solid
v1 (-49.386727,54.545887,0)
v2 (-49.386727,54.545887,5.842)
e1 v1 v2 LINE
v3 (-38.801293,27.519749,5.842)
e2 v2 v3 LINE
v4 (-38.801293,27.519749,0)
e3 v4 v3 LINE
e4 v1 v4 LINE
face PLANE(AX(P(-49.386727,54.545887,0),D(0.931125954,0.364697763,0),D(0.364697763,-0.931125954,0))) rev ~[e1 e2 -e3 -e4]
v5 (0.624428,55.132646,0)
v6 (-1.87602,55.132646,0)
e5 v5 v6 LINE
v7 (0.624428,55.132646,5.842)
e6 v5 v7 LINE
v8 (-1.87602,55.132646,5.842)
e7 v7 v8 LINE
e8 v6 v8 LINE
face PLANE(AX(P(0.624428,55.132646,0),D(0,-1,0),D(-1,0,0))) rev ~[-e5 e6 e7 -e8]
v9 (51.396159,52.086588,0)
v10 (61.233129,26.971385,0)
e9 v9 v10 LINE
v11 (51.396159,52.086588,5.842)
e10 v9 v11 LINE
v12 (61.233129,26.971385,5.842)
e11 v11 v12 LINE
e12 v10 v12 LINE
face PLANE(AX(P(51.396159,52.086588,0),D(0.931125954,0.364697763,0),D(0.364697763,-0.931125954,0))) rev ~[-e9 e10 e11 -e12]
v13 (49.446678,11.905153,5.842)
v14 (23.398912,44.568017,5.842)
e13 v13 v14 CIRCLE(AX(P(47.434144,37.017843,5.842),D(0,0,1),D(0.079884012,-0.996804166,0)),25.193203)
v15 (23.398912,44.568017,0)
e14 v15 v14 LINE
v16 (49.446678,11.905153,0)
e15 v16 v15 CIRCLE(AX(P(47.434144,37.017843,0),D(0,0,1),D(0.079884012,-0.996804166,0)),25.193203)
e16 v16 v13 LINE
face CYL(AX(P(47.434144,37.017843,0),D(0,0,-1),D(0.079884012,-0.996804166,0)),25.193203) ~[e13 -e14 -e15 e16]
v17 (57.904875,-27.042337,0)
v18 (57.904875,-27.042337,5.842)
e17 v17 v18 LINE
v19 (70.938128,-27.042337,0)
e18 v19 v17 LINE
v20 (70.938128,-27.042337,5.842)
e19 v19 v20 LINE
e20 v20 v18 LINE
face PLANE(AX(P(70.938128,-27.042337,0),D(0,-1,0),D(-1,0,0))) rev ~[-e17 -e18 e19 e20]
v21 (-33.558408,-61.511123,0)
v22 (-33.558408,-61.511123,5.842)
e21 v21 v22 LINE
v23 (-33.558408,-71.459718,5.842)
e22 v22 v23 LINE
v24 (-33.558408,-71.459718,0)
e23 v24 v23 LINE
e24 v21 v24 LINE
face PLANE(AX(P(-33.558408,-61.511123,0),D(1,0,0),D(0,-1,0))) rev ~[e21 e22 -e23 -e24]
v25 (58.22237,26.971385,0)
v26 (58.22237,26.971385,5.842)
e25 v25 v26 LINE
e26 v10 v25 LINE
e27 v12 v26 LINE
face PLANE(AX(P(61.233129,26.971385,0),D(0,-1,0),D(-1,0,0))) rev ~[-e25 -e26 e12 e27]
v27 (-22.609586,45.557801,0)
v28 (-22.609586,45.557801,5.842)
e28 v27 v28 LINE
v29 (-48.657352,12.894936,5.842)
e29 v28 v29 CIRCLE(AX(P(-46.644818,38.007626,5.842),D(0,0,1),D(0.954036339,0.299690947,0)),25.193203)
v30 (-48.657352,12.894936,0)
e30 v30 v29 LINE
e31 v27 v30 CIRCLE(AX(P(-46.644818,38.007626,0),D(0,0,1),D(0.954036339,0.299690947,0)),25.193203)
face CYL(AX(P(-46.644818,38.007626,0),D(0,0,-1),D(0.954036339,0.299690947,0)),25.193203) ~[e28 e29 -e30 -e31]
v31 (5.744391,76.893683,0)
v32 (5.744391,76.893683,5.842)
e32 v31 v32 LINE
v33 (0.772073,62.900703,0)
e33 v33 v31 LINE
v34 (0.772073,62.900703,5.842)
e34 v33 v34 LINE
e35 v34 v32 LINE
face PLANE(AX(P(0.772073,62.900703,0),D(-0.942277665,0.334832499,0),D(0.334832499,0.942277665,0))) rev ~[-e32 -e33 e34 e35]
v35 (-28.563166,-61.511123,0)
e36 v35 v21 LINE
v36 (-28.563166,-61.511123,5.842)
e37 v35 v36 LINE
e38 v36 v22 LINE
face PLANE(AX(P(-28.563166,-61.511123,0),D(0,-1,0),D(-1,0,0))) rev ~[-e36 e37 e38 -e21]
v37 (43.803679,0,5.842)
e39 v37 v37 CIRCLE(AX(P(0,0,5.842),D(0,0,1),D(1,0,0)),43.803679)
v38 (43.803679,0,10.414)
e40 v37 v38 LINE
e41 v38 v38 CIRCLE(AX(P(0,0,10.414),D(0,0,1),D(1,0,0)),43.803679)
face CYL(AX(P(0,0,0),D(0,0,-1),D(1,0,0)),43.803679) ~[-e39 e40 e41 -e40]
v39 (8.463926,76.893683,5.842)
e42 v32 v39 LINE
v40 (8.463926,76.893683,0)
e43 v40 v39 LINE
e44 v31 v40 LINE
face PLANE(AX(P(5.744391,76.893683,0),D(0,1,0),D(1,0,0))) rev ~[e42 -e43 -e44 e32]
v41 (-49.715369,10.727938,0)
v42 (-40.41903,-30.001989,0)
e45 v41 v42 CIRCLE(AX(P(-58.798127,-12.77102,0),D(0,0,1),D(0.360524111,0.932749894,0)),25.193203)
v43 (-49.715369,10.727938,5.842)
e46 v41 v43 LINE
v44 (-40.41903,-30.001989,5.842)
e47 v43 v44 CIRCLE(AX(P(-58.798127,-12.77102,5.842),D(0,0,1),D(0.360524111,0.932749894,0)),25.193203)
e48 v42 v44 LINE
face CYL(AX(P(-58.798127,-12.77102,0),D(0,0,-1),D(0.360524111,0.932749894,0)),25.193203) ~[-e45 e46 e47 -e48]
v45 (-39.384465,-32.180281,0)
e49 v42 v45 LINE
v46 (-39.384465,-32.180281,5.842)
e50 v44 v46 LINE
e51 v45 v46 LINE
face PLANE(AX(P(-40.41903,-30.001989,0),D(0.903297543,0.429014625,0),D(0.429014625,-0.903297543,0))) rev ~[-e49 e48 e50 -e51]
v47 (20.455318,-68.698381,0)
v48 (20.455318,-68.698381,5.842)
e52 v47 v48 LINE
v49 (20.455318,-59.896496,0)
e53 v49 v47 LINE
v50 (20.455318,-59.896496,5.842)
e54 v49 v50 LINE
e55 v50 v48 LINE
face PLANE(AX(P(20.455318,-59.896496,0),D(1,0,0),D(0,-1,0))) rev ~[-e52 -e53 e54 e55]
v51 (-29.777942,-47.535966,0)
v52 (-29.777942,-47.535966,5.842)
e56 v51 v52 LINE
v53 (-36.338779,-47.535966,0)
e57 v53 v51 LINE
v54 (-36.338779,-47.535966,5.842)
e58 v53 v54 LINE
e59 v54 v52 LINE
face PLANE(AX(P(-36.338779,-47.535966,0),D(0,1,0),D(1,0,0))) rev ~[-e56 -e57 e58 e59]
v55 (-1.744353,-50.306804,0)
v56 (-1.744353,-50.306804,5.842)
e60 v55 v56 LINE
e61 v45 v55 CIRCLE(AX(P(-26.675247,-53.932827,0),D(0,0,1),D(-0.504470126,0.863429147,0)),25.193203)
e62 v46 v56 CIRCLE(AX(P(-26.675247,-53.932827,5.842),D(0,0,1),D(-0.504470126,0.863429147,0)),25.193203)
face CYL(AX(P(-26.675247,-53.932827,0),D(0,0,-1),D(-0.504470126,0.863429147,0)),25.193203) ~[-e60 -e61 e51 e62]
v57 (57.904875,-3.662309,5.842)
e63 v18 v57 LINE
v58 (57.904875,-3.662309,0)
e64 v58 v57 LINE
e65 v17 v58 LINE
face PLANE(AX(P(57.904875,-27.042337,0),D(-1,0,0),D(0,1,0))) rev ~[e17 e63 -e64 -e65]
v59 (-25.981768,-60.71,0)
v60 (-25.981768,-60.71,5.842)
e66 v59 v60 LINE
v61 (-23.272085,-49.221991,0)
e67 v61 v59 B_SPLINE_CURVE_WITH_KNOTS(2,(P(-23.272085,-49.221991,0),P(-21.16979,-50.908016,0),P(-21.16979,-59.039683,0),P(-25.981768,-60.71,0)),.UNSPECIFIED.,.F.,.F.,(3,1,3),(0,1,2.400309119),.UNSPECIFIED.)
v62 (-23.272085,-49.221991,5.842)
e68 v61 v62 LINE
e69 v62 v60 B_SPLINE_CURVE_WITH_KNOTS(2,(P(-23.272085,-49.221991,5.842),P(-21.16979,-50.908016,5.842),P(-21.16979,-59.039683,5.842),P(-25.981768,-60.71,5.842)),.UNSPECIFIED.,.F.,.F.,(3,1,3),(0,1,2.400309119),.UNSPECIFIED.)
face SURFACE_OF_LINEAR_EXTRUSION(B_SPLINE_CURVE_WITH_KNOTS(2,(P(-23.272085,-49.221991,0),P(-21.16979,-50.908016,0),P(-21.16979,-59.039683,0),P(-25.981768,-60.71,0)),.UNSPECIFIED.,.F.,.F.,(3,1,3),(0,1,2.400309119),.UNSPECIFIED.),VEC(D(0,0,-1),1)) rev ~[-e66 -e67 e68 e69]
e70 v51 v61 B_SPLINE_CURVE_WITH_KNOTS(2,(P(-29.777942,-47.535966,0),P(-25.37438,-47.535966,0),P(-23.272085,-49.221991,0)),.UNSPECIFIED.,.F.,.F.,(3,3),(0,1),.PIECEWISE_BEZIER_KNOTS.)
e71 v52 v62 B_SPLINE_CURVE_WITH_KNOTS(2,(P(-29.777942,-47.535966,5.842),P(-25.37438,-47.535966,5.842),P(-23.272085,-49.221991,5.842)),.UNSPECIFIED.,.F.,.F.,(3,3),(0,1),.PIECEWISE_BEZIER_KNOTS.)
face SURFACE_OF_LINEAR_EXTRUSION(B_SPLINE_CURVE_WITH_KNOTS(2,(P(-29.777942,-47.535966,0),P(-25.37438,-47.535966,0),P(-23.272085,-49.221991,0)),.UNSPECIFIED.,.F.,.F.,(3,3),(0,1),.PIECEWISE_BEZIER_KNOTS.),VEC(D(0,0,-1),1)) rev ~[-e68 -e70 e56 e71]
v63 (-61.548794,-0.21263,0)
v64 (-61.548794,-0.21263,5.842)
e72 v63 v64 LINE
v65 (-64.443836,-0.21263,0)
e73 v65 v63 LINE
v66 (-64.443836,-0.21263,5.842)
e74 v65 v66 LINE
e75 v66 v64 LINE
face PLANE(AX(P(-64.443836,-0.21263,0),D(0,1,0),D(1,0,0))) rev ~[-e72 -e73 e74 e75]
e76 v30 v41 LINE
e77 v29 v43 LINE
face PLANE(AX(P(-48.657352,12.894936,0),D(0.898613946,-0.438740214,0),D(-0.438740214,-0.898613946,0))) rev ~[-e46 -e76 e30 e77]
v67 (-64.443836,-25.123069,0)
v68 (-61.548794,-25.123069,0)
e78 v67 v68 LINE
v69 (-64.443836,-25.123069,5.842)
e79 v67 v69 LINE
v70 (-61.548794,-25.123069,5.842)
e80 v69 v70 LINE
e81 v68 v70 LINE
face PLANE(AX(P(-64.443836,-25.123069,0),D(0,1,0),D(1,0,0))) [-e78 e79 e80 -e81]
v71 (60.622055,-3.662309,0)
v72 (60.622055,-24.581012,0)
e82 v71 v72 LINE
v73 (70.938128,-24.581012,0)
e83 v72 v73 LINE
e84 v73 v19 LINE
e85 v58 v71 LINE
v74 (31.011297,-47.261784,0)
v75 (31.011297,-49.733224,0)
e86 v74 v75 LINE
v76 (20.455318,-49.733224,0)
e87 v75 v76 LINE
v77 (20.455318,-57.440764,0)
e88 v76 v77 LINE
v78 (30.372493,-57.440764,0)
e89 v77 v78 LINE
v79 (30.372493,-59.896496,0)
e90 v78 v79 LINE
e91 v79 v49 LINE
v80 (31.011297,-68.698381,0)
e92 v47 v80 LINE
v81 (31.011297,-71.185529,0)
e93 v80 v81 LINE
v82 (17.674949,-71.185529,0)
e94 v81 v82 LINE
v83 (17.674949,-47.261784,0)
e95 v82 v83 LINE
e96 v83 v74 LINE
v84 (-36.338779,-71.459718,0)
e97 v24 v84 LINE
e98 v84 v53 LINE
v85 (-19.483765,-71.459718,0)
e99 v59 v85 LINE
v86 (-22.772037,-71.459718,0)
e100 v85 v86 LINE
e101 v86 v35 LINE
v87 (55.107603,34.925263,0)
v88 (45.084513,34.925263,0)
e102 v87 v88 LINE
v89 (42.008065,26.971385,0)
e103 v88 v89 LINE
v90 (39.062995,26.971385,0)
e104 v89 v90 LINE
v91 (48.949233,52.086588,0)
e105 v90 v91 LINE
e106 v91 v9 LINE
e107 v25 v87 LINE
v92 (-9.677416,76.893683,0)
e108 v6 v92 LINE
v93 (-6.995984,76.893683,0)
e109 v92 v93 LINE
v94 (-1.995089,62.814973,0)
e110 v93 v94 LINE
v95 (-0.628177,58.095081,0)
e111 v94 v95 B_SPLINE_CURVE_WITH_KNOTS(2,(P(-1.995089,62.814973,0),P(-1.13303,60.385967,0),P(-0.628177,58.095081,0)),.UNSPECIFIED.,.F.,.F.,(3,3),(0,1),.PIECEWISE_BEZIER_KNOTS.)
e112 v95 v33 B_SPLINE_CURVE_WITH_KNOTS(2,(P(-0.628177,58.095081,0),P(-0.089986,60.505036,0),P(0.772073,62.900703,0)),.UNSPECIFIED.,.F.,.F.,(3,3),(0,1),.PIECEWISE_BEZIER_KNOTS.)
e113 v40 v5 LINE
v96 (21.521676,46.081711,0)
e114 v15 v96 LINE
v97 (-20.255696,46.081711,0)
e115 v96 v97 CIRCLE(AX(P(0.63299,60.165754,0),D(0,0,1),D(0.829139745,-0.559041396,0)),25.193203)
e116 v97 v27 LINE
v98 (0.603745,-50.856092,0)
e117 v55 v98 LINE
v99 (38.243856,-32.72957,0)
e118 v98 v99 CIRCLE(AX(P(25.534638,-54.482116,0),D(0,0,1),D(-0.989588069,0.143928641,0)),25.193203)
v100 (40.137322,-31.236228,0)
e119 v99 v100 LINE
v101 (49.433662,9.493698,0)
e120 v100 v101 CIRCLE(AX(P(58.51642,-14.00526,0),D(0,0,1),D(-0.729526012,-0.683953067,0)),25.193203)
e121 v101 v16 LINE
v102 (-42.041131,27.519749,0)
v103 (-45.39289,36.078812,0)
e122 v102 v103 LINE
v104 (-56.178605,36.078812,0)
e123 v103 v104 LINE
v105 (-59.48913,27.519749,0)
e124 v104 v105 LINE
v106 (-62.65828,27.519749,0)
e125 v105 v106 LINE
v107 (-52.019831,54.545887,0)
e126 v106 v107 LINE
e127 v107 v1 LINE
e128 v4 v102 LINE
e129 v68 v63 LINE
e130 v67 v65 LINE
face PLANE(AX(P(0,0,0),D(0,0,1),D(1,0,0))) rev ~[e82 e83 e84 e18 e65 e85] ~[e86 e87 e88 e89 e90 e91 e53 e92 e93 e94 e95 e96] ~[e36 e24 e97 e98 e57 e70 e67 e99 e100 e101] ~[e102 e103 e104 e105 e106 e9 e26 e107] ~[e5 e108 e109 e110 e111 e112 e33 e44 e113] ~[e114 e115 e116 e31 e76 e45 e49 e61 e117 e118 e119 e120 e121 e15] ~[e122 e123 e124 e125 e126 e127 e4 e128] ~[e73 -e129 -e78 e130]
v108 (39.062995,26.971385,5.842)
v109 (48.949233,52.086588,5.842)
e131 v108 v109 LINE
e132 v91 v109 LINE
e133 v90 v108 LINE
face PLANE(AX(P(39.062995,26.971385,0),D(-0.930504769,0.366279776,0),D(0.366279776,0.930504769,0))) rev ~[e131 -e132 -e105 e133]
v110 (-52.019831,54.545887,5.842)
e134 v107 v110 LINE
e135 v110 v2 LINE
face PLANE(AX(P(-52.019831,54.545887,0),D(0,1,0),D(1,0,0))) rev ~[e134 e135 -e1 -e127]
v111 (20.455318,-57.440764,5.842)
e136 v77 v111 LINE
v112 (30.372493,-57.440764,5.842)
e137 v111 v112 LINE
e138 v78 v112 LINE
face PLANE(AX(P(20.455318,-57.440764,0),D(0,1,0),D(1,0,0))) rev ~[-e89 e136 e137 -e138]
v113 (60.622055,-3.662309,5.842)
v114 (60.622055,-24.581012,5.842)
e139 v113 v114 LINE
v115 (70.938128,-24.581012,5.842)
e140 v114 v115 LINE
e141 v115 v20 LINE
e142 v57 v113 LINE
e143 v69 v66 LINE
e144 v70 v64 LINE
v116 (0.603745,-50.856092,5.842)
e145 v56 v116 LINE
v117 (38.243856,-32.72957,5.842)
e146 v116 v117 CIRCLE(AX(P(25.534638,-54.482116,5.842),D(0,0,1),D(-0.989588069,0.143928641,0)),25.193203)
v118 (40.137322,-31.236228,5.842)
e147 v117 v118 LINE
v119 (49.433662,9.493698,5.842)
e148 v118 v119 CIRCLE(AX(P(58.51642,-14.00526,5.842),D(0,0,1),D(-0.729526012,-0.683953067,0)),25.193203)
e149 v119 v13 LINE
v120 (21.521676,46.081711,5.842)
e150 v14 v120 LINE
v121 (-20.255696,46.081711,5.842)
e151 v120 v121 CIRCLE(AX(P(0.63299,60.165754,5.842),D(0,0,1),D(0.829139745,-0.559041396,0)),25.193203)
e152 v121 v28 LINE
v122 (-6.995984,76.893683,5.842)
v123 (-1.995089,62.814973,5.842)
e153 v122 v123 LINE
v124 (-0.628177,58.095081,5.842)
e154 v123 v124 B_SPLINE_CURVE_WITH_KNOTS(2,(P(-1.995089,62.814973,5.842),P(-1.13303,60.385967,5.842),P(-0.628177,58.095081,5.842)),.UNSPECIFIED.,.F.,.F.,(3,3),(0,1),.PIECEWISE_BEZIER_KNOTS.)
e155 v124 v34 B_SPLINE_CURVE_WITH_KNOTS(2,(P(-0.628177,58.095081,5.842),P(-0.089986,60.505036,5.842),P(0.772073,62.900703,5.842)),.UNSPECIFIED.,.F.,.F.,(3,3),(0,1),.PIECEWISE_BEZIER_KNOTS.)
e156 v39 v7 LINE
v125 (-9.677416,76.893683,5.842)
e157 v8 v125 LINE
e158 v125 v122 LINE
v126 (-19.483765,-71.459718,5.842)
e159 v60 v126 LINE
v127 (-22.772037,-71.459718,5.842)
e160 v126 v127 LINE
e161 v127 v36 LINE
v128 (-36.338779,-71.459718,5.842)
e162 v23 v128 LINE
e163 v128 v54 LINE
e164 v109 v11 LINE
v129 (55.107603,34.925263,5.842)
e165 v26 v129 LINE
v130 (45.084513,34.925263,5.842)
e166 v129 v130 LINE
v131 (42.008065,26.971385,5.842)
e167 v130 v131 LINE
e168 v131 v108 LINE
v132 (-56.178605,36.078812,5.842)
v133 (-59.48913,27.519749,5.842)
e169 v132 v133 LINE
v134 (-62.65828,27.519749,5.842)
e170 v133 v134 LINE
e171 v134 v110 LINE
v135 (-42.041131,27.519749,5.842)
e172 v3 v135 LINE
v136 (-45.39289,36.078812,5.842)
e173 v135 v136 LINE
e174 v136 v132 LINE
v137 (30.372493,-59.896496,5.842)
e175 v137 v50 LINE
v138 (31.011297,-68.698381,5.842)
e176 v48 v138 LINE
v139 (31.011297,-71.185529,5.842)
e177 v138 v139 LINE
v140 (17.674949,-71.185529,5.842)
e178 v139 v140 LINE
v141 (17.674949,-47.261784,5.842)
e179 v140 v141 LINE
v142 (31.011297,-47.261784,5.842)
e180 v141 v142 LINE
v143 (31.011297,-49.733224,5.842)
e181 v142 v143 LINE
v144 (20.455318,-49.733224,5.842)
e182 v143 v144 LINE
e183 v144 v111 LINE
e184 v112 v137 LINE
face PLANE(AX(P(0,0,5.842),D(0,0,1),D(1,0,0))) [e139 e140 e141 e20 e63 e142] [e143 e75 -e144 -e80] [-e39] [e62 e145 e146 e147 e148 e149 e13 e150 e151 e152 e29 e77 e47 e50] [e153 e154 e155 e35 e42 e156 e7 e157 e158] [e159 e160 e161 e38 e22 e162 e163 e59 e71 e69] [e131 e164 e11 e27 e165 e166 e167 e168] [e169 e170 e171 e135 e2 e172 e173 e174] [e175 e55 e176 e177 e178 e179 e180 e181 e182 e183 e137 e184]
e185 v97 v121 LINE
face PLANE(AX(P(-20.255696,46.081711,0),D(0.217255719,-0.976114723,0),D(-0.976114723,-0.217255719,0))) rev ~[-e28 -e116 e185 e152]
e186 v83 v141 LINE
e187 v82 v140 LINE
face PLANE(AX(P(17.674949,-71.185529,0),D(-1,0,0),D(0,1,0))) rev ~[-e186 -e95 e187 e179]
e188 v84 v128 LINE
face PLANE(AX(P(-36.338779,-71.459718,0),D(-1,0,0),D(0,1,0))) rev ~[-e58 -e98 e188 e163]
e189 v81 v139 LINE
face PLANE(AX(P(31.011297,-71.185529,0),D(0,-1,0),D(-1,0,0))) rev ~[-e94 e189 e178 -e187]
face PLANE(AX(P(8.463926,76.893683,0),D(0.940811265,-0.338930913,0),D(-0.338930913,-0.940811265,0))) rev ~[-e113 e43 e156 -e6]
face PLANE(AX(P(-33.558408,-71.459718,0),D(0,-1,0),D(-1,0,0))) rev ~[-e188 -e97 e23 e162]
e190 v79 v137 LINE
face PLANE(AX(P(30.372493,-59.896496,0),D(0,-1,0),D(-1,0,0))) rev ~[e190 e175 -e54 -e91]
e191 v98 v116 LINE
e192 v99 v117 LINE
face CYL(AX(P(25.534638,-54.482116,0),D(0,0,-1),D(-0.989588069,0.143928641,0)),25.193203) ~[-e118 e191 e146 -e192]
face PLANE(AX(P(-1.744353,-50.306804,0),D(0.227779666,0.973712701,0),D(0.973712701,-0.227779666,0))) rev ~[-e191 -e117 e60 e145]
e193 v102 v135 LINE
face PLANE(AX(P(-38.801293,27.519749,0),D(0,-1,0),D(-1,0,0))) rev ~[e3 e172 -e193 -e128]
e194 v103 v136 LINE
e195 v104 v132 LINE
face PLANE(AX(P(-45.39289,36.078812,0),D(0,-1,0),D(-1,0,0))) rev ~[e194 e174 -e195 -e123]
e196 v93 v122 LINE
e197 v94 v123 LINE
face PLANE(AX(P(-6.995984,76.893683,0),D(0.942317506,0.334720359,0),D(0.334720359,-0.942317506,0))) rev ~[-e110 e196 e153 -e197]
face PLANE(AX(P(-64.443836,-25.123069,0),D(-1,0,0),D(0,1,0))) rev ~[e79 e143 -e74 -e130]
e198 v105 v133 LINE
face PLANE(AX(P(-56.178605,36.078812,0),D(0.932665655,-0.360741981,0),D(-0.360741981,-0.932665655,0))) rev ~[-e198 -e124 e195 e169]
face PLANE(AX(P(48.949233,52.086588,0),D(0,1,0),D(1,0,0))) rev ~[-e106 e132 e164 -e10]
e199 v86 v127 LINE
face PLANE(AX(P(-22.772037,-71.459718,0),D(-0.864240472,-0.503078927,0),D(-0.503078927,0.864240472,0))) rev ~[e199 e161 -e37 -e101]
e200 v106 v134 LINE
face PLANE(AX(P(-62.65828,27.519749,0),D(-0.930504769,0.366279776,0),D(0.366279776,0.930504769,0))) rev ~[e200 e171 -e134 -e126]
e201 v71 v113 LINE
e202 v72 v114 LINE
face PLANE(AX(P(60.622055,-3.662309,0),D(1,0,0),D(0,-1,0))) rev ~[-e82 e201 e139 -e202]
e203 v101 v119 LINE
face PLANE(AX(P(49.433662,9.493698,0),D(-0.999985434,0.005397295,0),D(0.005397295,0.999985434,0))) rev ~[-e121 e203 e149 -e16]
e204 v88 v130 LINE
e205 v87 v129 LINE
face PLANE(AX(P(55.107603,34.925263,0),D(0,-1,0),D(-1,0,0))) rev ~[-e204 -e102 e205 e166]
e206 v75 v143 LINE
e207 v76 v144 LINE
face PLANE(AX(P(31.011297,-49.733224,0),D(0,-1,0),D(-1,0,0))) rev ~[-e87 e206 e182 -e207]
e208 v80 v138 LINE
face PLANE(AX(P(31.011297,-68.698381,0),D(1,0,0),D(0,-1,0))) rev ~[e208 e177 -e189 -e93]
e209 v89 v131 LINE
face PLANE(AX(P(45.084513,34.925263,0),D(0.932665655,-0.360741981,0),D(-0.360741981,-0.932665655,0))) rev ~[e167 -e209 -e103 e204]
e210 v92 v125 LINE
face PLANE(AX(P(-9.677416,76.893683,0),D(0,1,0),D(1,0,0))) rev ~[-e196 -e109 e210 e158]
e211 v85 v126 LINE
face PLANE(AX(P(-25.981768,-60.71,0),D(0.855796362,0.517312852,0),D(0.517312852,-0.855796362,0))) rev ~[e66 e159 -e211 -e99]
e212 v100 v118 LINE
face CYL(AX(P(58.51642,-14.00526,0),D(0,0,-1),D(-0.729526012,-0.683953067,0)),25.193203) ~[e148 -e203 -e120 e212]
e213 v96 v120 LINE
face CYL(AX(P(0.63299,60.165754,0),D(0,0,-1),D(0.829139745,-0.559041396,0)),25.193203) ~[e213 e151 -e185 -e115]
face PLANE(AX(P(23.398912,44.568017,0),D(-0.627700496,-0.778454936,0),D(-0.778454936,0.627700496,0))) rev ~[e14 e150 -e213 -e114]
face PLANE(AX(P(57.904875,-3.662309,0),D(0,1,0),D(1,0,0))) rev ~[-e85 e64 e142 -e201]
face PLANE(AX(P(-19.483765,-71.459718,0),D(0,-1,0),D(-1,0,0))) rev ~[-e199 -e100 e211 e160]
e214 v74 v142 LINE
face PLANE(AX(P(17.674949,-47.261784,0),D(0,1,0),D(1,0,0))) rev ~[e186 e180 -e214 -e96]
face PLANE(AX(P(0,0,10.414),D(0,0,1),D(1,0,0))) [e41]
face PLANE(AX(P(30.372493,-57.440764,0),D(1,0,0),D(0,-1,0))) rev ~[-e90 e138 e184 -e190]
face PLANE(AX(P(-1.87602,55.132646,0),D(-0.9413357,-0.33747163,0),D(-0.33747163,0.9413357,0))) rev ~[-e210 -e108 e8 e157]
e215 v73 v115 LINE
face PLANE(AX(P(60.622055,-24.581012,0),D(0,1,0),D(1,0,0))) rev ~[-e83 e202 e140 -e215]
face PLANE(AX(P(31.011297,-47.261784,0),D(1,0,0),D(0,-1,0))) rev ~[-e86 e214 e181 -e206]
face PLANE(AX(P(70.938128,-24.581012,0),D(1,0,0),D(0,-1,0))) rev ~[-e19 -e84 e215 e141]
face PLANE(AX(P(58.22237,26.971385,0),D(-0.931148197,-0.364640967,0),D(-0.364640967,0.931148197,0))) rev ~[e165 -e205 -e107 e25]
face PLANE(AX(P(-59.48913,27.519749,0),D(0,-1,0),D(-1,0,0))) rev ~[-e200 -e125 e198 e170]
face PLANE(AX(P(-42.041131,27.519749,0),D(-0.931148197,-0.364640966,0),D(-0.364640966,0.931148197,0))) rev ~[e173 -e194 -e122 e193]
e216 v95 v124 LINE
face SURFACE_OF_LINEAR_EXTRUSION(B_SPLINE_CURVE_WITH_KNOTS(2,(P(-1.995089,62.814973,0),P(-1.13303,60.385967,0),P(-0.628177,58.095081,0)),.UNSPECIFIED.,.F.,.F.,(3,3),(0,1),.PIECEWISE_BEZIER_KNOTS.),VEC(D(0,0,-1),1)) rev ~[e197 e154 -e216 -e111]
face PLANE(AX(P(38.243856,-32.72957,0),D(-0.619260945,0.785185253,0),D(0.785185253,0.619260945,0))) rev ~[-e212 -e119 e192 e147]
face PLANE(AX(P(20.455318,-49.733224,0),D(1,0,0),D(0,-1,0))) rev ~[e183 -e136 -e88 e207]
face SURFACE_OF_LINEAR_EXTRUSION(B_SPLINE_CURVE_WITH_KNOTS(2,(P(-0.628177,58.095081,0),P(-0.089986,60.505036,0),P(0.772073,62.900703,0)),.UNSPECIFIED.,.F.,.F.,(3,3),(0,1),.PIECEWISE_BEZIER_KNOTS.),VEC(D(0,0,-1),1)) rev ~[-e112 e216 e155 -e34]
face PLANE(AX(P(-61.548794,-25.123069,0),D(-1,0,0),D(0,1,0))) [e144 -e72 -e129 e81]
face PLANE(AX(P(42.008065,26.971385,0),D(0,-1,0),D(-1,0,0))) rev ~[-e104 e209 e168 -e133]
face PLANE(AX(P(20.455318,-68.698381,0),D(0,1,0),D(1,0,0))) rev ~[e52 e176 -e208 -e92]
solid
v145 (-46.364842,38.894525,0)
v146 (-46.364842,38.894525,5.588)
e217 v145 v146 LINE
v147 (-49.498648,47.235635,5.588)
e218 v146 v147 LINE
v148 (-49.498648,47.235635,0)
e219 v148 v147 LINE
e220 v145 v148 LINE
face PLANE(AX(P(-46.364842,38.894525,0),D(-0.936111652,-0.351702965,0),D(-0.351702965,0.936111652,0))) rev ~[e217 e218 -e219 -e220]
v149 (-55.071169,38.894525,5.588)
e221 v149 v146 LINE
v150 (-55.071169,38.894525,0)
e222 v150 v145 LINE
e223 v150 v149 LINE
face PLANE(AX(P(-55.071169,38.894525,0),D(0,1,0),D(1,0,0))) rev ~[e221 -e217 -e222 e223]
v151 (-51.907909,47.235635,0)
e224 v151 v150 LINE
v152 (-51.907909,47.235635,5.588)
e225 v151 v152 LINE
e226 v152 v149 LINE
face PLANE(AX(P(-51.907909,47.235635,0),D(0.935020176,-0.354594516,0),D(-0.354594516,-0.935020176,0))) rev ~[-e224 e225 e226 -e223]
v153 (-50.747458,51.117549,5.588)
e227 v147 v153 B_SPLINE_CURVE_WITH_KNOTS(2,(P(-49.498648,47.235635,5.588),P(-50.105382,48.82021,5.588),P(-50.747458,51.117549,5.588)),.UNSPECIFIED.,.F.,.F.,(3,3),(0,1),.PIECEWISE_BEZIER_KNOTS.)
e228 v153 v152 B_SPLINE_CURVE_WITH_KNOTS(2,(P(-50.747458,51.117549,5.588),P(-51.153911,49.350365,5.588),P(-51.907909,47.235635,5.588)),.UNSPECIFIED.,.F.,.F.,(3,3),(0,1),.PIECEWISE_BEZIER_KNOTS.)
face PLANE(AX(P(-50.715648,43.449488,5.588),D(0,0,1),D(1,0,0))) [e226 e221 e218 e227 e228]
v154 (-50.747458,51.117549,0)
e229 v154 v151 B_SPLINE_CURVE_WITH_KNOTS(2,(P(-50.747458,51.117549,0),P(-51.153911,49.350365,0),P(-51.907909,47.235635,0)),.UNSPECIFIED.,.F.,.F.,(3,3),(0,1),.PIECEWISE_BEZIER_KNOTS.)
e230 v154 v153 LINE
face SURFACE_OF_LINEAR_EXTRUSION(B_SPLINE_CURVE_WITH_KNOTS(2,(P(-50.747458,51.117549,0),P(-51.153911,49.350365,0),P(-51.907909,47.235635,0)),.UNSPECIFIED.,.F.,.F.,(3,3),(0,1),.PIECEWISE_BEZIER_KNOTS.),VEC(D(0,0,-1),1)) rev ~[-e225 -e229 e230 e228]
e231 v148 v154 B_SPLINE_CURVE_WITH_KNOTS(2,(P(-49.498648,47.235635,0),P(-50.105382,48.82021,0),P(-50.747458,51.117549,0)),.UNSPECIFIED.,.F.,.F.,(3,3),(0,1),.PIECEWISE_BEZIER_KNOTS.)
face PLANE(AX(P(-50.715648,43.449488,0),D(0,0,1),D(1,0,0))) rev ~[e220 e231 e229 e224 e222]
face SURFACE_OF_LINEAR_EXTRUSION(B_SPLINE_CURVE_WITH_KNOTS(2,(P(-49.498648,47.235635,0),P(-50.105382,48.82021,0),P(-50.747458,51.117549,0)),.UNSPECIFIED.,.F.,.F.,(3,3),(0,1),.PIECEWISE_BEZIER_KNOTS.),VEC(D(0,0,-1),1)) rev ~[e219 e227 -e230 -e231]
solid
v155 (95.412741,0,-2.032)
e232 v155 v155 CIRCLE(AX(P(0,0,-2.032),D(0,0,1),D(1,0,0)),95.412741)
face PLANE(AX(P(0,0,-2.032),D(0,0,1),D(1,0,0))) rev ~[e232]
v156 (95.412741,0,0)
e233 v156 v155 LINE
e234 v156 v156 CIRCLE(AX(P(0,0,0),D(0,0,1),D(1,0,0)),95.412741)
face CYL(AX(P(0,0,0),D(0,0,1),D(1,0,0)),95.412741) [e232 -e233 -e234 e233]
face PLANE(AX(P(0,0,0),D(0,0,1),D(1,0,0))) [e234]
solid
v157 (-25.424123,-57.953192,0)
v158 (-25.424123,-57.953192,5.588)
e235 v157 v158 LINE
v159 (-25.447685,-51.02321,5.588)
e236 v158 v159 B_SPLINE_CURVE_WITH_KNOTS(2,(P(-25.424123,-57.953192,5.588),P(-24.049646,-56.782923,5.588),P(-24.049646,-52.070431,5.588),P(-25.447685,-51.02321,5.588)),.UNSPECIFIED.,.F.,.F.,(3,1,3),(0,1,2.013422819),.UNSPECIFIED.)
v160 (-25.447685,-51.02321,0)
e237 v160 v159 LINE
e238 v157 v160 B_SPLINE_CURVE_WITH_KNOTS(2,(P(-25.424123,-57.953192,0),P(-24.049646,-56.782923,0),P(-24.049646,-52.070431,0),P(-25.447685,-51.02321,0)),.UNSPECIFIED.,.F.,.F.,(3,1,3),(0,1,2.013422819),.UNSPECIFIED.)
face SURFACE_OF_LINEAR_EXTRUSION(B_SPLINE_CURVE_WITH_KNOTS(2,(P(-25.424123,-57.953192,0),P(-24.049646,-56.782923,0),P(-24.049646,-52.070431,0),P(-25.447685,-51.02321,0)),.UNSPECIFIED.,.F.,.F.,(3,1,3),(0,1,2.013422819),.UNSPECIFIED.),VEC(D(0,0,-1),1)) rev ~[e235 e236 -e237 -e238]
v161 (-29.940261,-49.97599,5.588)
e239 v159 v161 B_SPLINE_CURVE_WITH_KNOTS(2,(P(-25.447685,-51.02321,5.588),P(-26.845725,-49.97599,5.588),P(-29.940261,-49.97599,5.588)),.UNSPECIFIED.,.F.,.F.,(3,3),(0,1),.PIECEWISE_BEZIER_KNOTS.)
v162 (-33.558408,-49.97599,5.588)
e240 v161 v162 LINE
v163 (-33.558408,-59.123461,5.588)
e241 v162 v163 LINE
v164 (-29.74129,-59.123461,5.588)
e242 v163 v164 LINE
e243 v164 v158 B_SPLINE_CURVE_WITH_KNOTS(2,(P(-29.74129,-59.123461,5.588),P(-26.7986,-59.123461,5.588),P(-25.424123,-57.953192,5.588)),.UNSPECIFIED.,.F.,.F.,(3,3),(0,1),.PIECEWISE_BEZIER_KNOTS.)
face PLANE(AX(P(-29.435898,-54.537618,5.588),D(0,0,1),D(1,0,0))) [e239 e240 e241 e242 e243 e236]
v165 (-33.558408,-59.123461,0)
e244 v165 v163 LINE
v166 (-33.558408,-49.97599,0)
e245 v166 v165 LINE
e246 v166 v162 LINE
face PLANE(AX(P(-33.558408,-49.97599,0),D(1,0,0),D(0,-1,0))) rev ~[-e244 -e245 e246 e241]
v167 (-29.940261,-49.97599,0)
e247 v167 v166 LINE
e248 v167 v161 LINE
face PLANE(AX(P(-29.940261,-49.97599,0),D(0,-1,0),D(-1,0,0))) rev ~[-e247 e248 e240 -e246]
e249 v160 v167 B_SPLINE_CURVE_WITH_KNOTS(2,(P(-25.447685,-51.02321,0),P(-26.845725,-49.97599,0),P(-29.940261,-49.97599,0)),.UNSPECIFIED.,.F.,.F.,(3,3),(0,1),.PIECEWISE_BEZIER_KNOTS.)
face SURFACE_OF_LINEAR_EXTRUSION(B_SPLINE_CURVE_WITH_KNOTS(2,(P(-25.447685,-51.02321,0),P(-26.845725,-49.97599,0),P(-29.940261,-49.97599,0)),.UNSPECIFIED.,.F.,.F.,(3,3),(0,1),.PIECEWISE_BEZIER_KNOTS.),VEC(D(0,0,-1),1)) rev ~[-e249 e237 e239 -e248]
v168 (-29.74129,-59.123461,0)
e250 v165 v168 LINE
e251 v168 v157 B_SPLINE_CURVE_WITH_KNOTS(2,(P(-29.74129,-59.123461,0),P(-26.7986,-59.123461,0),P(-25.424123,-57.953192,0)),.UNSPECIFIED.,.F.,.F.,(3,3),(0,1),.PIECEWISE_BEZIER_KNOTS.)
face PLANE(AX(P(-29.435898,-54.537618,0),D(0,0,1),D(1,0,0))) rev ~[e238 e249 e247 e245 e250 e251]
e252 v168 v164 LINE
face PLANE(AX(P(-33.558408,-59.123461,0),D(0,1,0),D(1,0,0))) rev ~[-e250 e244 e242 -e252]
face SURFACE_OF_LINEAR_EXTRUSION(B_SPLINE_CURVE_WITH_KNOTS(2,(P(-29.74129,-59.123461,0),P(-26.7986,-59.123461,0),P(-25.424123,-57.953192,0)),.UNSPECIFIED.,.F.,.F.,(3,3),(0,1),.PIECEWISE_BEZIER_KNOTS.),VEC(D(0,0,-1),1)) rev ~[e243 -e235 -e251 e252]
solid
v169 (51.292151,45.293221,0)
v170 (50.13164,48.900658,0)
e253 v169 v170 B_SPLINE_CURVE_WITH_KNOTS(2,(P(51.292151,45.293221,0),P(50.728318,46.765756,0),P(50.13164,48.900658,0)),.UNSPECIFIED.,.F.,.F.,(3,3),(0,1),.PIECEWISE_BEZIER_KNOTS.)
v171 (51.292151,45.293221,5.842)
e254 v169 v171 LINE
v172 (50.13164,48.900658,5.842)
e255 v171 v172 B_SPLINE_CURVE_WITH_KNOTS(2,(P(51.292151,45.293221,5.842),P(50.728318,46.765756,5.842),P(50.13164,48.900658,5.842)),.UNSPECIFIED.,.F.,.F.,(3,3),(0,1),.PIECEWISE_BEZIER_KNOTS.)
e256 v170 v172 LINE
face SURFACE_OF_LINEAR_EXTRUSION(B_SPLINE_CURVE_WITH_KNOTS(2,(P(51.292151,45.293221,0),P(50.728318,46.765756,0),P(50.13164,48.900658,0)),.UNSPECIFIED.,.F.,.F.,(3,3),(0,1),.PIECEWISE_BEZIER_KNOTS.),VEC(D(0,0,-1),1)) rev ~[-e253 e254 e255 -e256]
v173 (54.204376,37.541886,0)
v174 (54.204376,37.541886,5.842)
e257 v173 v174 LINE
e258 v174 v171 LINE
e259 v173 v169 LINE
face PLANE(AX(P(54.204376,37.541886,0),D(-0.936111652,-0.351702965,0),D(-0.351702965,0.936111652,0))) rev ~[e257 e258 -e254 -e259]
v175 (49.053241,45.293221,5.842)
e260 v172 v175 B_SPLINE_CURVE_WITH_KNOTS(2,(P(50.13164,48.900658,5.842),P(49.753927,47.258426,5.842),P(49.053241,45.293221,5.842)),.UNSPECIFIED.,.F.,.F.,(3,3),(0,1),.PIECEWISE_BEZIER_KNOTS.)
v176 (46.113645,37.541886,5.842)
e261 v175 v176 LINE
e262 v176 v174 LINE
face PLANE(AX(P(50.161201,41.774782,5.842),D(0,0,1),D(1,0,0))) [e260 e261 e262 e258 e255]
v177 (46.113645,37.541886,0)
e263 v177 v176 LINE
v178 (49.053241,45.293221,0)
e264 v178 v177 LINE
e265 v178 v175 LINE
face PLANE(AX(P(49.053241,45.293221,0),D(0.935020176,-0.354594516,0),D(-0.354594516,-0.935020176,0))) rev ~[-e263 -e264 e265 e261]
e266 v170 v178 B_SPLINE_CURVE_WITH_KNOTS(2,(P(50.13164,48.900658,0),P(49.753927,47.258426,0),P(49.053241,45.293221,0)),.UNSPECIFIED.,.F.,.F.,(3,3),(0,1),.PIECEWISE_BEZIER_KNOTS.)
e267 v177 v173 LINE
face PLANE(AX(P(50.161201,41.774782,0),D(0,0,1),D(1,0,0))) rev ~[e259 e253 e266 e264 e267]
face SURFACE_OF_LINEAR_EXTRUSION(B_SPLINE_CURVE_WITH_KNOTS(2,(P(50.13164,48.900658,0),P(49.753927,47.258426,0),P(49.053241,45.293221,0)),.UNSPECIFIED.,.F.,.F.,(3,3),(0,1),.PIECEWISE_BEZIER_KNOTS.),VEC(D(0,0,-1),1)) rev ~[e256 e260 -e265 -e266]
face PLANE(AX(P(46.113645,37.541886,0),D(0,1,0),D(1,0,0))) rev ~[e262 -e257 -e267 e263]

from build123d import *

# Parameters (mm, degrees)
F0_R     = 43.8036785808
F1_DEPTH = 10.414
F0_W     = 2.8950411615
F0_H     = 24.910438921
F2_DEPTH = 5.842
F3_DEPTH = 5.588
F4_R     = 95.4127414117
F5_DEPTH = 2.032


with BuildPart() as f1:
    # F0 (on Top) → F1 (new body)
    with BuildSketch(Plane.XY):
        Circle(F0_R)
    extrude(amount=F1_DEPTH)

    # F0 (on Top) → F2 (join)
    with BuildSketch(Plane.XY):
        with BuildLine():
            Line((23.3989122151, 44.5680174699), (21.5216763318, 46.0817106068))
            ThreePointArc((21.5216763318, 46.0817106068), (0.6329901516, 85.3589574882), (-20.2556960285, 46.0817106068))
            Line((-20.2556960285, 46.0817106068), (-22.6095864066, 45.5578007272))
            ThreePointArc((-22.6095864066, 45.5578007272), (-66.3416573707, 53.7153311199), (-48.6573520217, 12.8949357612))
            Line((-48.6573520217, 12.8949357612), (-49.7153694293, 10.7279376902))
            ThreePointArc((-49.7153694293, 10.7279376902), (-83.3596837697, -18.3770351748), (-40.4190295135, -30.0019887214))
            Line((-40.4190295135, -30.0019887214), (-39.384465263, -32.1802812375))
            ThreePointArc((-39.384465263, -32.1802812375), (-37.6061680625, -76.6311191597), (-1.7443533837, -50.3068037677))
            Line((-1.7443533837, -50.3068037677), (0.603744543, -50.8560920353))
            ThreePointArc((0.603744543, -50.8560920353), (36.4655592218, -77.1804074273), (38.2438564224, -32.7295695052))
            Line((38.2438564224, -32.7295695052), (40.137322394, -31.2362282553))
            ThreePointArc((40.137322394, -31.2362282553), (83.0779766503, -19.6112747088), (49.4336623099, 9.4936981563))
            Line((49.4336623099, 9.4936981563), (49.4466778301, 11.9051525039))
            ThreePointArc((49.4466778301, 11.9051525039), (67.1309831792, 52.7255478626), (23.3989122151, 44.5680174699))
        make_face()
        with BuildLine():
            Line((-28.5631664511, -61.511123346), (-33.5584082123, -61.511123346))
            Line((-33.5584082123, -61.511123346), (-33.5584082123, -71.4597180486))
            Line((-33.5584082123, -71.4597180486), (-36.3387786266, -71.4597180486))
            Line((-36.3387786266, -71.4597180486), (-36.3387786266, -47.53596584))
            Line((-36.3387786266, -47.53596584), (-29.7779422253, -47.53596584))
            add(Edge.make_bspline(
                [(-29.7779422253, -47.53596584), (-25.3743800438, -47.53596584), (-23.2720849001, -49.221990837)],
                knots=[0, 0, 0, 1, 1, 1], degree=2))
            add(Edge.make_bspline(
                [(-23.2720849001, -49.221990837), (-21.1697897563, -50.908015834), (-21.1697897563, -54.2957741353)],
                knots=[0, 0, 0, 1, 1, 1], degree=2))
            add(Edge.make_bspline(
                [(-21.1697897563, -54.2957741353), (-21.1697897563, -59.0396829777), (-25.9817679309, -60.7099996673)],
                knots=[0, 0, 0, 1, 1, 1], degree=2))
            Line((-25.9817679309, -60.7099996673), (-19.4837647594, -71.4597180486))
            Line((-19.4837647594, -71.4597180486), (-22.7720371137, -71.4597180486))
            Line((-22.7720371137, -71.4597180486), (-28.5631664511, -61.511123346))
        make_face(mode=Mode.SUBTRACT)
        with Locations((-62.9963150182, -12.6678496023)):
            Rectangle(F0_W, F0_H, mode=Mode.SUBTRACT)
        Polygon((31.0112974079, -68.6983813244), (31.0112974079, -71.185529232), (17.6749485221, -71.185529232), (17.6749485221, -47.261784411), (31.0112974079, -47.261784411), (31.0112974079, -49.7332240161), (20.4553180778, -49.7332240161), (20.4553180778, -57.4407644793), (30.3724931032, -57.4407644793), (30.3724931032, -59.8964957818), (20.4553180778, -59.8964957818), (20.4553180778, -68.6983813244), align=None, mode=Mode.SUBTRACT)
        Circle(F0_R, mode=Mode.SUBTRACT)
        Polygon((70.9381277669, -27.042336762), (57.9048754965, -27.042336762), (57.9048754965, -3.6623094265), (60.6220552985, -3.6623094265), (60.6220552985, -24.5810119319), (70.9381277669, -24.5810119319), align=None, mode=Mode.SUBTRACT)
        Polygon((-38.8012931435, 27.5197494775), (-42.041130883, 27.5197494775), (-45.3928902898, 36.0788117238), (-56.1786046552, 36.0788117238), (-59.4891297636, 27.5197494775), (-62.6582801342, 27.5197494775), (-52.0198311206, 54.5458868388), (-49.3867266305, 54.5458868388), align=None, mode=Mode.SUBTRACT)
        with BuildLine():
            Line((0.7720730743, 62.9007027286), (5.744391349, 76.8936827008))
            Line((5.744391349, 76.8936827008), (8.4639255777, 76.8936827008))
            Line((8.4639255777, 76.8936827008), (0.6244276083, 55.1326461136))
            Line((0.6244276083, 55.1326461136), (-1.8760198, 55.1326461136))
            Line((-1.8760198, 55.1326461136), (-9.6774157137, 76.8936827008))
            Line((-9.6774157137, 76.8936827008), (-6.9959835406, 76.8936827008))
            Line((-6.9959835406, 76.8936827008), (-1.9950887242, 62.8149731031))
            add(Edge.make_bspline(
                [(-1.9950887242, 62.8149731031), (-1.1330297129, 60.3859670494), (-0.6281774743, 58.0950809478)],
                knots=[0, 0, 0, 1, 1, 1], degree=2))
            add(Edge.make_bspline(
                [(-0.6281774743, 58.0950809478), (-0.0899859369, 60.5050359736), (0.7720730743, 62.9007027286)],
                knots=[0, 0, 0, 1, 1, 1], degree=2))
        make_face(mode=Mode.SUBTRACT)
        Polygon((61.2331293523, 26.9713848829), (58.2223704292, 26.9713848829), (55.1076034705, 34.9252625472), (45.0845133099, 34.9252625472), (42.0080651012, 26.9713848829), (39.0629954636, 26.9713848829), (48.9492329458, 52.0865884092), (51.3961588343, 52.0865884092), align=None, mode=Mode.SUBTRACT)
    extrude(amount=F2_DEPTH)


with BuildPart() as f2:
    # F0 (on Top) → F2, piece 2 (new body)
    with BuildSketch(Plane.XY):
        with BuildLine():
            Line((46.1136454509, 37.5418857568), (54.2043757935, 37.5418857568))
            Line((54.2043757935, 37.5418857568), (51.2921507988, 45.2932214571))
            add(Edge.make_bspline(
                [(51.2921507988, 45.2932214571), (50.7283177641, 46.7657562759), (50.1316400866, 48.9006580578)],
                knots=[0, 0, 0, 1, 1, 1], degree=2))
            add(Edge.make_bspline(
                [(50.1316400866, 48.9006580578), (49.7539266944, 47.2584259179), (49.0532409814, 45.2932214571)],
                knots=[0, 0, 0, 1, 1, 1], degree=2))
            Line((49.0532409814, 45.2932214571), (46.1136454509, 37.5418857568))
        make_face()
    extrude(amount=F2_DEPTH)


with BuildPart() as f3:
    # F0 (on Top) → F3 (new body)
    with BuildSketch(Plane.XY):
        with BuildLine():
            Line((-33.5584082123, -49.9759895934), (-33.5584082123, -59.1234606173))
            Line((-33.5584082123, -59.1234606173), (-29.741289508, -59.1234606173))
            add(Edge.make_bspline(
                [(-29.741289508, -59.1234606173), (-26.798599917, -59.1234606173), (-25.4241230173, -57.9531917142)],
                knots=[0, 0, 0, 1, 1, 1], degree=2))
            add(Edge.make_bspline(
                [(-25.4241230173, -57.9531917142), (-24.0496461176, -56.782922811), (-24.0496461176, -54.4423850046)],
                knots=[0, 0, 0, 1, 1, 1], degree=2))
            add(Edge.make_bspline(
                [(-24.0496461176, -54.4423850046), (-24.0496461176, -52.0704305834), (-25.4476854785, -51.0232100884)],
                knots=[0, 0, 0, 1, 1, 1], degree=2))
            add(Edge.make_bspline(
                [(-25.4476854785, -51.0232100884), (-26.8457248393, -49.9759895934), (-29.9402614021, -49.9759895934)],
                knots=[0, 0, 0, 1, 1, 1], degree=2))
            Line((-29.9402614021, -49.9759895934), (-33.5584082123, -49.9759895934))
        make_face()
    extrude(amount=F3_DEPTH)


with BuildPart() as f3b:
    # F0 (on Top) → F3, piece 2 (new body)
    with BuildSketch(Plane.XY):
        with BuildLine():
            Line((-55.0711692097, 38.8945252501), (-46.3648416116, 38.8945252501))
            Line((-46.3648416116, 38.8945252501), (-49.4986482978, 47.2356347758))
            add(Edge.make_bspline(
                [(-49.4986482978, 47.2356347758), (-50.1053815472, 48.8202099611), (-50.7474584811, 51.1175494491)],
                knots=[0, 0, 0, 1, 1, 1], degree=2))
            add(Edge.make_bspline(
                [(-50.7474584811, 51.1175494491), (-51.153910852, 49.3503652275), (-51.9079094532, 47.2356347758)],
                knots=[0, 0, 0, 1, 1, 1], degree=2))
            Line((-51.9079094532, 47.2356347758), (-55.0711692097, 38.8945252501))
        make_face()
    extrude(amount=F3_DEPTH)


with BuildPart() as f5:
    # F4 (on Top) → F5 (new body)
    with BuildSketch(Plane.XY):
        Circle(F4_R)
    extrude(amount=-F5_DEPTH)


solid = Compound([f1.part, f2.part, f3.part, f3b.part, f5.part])
